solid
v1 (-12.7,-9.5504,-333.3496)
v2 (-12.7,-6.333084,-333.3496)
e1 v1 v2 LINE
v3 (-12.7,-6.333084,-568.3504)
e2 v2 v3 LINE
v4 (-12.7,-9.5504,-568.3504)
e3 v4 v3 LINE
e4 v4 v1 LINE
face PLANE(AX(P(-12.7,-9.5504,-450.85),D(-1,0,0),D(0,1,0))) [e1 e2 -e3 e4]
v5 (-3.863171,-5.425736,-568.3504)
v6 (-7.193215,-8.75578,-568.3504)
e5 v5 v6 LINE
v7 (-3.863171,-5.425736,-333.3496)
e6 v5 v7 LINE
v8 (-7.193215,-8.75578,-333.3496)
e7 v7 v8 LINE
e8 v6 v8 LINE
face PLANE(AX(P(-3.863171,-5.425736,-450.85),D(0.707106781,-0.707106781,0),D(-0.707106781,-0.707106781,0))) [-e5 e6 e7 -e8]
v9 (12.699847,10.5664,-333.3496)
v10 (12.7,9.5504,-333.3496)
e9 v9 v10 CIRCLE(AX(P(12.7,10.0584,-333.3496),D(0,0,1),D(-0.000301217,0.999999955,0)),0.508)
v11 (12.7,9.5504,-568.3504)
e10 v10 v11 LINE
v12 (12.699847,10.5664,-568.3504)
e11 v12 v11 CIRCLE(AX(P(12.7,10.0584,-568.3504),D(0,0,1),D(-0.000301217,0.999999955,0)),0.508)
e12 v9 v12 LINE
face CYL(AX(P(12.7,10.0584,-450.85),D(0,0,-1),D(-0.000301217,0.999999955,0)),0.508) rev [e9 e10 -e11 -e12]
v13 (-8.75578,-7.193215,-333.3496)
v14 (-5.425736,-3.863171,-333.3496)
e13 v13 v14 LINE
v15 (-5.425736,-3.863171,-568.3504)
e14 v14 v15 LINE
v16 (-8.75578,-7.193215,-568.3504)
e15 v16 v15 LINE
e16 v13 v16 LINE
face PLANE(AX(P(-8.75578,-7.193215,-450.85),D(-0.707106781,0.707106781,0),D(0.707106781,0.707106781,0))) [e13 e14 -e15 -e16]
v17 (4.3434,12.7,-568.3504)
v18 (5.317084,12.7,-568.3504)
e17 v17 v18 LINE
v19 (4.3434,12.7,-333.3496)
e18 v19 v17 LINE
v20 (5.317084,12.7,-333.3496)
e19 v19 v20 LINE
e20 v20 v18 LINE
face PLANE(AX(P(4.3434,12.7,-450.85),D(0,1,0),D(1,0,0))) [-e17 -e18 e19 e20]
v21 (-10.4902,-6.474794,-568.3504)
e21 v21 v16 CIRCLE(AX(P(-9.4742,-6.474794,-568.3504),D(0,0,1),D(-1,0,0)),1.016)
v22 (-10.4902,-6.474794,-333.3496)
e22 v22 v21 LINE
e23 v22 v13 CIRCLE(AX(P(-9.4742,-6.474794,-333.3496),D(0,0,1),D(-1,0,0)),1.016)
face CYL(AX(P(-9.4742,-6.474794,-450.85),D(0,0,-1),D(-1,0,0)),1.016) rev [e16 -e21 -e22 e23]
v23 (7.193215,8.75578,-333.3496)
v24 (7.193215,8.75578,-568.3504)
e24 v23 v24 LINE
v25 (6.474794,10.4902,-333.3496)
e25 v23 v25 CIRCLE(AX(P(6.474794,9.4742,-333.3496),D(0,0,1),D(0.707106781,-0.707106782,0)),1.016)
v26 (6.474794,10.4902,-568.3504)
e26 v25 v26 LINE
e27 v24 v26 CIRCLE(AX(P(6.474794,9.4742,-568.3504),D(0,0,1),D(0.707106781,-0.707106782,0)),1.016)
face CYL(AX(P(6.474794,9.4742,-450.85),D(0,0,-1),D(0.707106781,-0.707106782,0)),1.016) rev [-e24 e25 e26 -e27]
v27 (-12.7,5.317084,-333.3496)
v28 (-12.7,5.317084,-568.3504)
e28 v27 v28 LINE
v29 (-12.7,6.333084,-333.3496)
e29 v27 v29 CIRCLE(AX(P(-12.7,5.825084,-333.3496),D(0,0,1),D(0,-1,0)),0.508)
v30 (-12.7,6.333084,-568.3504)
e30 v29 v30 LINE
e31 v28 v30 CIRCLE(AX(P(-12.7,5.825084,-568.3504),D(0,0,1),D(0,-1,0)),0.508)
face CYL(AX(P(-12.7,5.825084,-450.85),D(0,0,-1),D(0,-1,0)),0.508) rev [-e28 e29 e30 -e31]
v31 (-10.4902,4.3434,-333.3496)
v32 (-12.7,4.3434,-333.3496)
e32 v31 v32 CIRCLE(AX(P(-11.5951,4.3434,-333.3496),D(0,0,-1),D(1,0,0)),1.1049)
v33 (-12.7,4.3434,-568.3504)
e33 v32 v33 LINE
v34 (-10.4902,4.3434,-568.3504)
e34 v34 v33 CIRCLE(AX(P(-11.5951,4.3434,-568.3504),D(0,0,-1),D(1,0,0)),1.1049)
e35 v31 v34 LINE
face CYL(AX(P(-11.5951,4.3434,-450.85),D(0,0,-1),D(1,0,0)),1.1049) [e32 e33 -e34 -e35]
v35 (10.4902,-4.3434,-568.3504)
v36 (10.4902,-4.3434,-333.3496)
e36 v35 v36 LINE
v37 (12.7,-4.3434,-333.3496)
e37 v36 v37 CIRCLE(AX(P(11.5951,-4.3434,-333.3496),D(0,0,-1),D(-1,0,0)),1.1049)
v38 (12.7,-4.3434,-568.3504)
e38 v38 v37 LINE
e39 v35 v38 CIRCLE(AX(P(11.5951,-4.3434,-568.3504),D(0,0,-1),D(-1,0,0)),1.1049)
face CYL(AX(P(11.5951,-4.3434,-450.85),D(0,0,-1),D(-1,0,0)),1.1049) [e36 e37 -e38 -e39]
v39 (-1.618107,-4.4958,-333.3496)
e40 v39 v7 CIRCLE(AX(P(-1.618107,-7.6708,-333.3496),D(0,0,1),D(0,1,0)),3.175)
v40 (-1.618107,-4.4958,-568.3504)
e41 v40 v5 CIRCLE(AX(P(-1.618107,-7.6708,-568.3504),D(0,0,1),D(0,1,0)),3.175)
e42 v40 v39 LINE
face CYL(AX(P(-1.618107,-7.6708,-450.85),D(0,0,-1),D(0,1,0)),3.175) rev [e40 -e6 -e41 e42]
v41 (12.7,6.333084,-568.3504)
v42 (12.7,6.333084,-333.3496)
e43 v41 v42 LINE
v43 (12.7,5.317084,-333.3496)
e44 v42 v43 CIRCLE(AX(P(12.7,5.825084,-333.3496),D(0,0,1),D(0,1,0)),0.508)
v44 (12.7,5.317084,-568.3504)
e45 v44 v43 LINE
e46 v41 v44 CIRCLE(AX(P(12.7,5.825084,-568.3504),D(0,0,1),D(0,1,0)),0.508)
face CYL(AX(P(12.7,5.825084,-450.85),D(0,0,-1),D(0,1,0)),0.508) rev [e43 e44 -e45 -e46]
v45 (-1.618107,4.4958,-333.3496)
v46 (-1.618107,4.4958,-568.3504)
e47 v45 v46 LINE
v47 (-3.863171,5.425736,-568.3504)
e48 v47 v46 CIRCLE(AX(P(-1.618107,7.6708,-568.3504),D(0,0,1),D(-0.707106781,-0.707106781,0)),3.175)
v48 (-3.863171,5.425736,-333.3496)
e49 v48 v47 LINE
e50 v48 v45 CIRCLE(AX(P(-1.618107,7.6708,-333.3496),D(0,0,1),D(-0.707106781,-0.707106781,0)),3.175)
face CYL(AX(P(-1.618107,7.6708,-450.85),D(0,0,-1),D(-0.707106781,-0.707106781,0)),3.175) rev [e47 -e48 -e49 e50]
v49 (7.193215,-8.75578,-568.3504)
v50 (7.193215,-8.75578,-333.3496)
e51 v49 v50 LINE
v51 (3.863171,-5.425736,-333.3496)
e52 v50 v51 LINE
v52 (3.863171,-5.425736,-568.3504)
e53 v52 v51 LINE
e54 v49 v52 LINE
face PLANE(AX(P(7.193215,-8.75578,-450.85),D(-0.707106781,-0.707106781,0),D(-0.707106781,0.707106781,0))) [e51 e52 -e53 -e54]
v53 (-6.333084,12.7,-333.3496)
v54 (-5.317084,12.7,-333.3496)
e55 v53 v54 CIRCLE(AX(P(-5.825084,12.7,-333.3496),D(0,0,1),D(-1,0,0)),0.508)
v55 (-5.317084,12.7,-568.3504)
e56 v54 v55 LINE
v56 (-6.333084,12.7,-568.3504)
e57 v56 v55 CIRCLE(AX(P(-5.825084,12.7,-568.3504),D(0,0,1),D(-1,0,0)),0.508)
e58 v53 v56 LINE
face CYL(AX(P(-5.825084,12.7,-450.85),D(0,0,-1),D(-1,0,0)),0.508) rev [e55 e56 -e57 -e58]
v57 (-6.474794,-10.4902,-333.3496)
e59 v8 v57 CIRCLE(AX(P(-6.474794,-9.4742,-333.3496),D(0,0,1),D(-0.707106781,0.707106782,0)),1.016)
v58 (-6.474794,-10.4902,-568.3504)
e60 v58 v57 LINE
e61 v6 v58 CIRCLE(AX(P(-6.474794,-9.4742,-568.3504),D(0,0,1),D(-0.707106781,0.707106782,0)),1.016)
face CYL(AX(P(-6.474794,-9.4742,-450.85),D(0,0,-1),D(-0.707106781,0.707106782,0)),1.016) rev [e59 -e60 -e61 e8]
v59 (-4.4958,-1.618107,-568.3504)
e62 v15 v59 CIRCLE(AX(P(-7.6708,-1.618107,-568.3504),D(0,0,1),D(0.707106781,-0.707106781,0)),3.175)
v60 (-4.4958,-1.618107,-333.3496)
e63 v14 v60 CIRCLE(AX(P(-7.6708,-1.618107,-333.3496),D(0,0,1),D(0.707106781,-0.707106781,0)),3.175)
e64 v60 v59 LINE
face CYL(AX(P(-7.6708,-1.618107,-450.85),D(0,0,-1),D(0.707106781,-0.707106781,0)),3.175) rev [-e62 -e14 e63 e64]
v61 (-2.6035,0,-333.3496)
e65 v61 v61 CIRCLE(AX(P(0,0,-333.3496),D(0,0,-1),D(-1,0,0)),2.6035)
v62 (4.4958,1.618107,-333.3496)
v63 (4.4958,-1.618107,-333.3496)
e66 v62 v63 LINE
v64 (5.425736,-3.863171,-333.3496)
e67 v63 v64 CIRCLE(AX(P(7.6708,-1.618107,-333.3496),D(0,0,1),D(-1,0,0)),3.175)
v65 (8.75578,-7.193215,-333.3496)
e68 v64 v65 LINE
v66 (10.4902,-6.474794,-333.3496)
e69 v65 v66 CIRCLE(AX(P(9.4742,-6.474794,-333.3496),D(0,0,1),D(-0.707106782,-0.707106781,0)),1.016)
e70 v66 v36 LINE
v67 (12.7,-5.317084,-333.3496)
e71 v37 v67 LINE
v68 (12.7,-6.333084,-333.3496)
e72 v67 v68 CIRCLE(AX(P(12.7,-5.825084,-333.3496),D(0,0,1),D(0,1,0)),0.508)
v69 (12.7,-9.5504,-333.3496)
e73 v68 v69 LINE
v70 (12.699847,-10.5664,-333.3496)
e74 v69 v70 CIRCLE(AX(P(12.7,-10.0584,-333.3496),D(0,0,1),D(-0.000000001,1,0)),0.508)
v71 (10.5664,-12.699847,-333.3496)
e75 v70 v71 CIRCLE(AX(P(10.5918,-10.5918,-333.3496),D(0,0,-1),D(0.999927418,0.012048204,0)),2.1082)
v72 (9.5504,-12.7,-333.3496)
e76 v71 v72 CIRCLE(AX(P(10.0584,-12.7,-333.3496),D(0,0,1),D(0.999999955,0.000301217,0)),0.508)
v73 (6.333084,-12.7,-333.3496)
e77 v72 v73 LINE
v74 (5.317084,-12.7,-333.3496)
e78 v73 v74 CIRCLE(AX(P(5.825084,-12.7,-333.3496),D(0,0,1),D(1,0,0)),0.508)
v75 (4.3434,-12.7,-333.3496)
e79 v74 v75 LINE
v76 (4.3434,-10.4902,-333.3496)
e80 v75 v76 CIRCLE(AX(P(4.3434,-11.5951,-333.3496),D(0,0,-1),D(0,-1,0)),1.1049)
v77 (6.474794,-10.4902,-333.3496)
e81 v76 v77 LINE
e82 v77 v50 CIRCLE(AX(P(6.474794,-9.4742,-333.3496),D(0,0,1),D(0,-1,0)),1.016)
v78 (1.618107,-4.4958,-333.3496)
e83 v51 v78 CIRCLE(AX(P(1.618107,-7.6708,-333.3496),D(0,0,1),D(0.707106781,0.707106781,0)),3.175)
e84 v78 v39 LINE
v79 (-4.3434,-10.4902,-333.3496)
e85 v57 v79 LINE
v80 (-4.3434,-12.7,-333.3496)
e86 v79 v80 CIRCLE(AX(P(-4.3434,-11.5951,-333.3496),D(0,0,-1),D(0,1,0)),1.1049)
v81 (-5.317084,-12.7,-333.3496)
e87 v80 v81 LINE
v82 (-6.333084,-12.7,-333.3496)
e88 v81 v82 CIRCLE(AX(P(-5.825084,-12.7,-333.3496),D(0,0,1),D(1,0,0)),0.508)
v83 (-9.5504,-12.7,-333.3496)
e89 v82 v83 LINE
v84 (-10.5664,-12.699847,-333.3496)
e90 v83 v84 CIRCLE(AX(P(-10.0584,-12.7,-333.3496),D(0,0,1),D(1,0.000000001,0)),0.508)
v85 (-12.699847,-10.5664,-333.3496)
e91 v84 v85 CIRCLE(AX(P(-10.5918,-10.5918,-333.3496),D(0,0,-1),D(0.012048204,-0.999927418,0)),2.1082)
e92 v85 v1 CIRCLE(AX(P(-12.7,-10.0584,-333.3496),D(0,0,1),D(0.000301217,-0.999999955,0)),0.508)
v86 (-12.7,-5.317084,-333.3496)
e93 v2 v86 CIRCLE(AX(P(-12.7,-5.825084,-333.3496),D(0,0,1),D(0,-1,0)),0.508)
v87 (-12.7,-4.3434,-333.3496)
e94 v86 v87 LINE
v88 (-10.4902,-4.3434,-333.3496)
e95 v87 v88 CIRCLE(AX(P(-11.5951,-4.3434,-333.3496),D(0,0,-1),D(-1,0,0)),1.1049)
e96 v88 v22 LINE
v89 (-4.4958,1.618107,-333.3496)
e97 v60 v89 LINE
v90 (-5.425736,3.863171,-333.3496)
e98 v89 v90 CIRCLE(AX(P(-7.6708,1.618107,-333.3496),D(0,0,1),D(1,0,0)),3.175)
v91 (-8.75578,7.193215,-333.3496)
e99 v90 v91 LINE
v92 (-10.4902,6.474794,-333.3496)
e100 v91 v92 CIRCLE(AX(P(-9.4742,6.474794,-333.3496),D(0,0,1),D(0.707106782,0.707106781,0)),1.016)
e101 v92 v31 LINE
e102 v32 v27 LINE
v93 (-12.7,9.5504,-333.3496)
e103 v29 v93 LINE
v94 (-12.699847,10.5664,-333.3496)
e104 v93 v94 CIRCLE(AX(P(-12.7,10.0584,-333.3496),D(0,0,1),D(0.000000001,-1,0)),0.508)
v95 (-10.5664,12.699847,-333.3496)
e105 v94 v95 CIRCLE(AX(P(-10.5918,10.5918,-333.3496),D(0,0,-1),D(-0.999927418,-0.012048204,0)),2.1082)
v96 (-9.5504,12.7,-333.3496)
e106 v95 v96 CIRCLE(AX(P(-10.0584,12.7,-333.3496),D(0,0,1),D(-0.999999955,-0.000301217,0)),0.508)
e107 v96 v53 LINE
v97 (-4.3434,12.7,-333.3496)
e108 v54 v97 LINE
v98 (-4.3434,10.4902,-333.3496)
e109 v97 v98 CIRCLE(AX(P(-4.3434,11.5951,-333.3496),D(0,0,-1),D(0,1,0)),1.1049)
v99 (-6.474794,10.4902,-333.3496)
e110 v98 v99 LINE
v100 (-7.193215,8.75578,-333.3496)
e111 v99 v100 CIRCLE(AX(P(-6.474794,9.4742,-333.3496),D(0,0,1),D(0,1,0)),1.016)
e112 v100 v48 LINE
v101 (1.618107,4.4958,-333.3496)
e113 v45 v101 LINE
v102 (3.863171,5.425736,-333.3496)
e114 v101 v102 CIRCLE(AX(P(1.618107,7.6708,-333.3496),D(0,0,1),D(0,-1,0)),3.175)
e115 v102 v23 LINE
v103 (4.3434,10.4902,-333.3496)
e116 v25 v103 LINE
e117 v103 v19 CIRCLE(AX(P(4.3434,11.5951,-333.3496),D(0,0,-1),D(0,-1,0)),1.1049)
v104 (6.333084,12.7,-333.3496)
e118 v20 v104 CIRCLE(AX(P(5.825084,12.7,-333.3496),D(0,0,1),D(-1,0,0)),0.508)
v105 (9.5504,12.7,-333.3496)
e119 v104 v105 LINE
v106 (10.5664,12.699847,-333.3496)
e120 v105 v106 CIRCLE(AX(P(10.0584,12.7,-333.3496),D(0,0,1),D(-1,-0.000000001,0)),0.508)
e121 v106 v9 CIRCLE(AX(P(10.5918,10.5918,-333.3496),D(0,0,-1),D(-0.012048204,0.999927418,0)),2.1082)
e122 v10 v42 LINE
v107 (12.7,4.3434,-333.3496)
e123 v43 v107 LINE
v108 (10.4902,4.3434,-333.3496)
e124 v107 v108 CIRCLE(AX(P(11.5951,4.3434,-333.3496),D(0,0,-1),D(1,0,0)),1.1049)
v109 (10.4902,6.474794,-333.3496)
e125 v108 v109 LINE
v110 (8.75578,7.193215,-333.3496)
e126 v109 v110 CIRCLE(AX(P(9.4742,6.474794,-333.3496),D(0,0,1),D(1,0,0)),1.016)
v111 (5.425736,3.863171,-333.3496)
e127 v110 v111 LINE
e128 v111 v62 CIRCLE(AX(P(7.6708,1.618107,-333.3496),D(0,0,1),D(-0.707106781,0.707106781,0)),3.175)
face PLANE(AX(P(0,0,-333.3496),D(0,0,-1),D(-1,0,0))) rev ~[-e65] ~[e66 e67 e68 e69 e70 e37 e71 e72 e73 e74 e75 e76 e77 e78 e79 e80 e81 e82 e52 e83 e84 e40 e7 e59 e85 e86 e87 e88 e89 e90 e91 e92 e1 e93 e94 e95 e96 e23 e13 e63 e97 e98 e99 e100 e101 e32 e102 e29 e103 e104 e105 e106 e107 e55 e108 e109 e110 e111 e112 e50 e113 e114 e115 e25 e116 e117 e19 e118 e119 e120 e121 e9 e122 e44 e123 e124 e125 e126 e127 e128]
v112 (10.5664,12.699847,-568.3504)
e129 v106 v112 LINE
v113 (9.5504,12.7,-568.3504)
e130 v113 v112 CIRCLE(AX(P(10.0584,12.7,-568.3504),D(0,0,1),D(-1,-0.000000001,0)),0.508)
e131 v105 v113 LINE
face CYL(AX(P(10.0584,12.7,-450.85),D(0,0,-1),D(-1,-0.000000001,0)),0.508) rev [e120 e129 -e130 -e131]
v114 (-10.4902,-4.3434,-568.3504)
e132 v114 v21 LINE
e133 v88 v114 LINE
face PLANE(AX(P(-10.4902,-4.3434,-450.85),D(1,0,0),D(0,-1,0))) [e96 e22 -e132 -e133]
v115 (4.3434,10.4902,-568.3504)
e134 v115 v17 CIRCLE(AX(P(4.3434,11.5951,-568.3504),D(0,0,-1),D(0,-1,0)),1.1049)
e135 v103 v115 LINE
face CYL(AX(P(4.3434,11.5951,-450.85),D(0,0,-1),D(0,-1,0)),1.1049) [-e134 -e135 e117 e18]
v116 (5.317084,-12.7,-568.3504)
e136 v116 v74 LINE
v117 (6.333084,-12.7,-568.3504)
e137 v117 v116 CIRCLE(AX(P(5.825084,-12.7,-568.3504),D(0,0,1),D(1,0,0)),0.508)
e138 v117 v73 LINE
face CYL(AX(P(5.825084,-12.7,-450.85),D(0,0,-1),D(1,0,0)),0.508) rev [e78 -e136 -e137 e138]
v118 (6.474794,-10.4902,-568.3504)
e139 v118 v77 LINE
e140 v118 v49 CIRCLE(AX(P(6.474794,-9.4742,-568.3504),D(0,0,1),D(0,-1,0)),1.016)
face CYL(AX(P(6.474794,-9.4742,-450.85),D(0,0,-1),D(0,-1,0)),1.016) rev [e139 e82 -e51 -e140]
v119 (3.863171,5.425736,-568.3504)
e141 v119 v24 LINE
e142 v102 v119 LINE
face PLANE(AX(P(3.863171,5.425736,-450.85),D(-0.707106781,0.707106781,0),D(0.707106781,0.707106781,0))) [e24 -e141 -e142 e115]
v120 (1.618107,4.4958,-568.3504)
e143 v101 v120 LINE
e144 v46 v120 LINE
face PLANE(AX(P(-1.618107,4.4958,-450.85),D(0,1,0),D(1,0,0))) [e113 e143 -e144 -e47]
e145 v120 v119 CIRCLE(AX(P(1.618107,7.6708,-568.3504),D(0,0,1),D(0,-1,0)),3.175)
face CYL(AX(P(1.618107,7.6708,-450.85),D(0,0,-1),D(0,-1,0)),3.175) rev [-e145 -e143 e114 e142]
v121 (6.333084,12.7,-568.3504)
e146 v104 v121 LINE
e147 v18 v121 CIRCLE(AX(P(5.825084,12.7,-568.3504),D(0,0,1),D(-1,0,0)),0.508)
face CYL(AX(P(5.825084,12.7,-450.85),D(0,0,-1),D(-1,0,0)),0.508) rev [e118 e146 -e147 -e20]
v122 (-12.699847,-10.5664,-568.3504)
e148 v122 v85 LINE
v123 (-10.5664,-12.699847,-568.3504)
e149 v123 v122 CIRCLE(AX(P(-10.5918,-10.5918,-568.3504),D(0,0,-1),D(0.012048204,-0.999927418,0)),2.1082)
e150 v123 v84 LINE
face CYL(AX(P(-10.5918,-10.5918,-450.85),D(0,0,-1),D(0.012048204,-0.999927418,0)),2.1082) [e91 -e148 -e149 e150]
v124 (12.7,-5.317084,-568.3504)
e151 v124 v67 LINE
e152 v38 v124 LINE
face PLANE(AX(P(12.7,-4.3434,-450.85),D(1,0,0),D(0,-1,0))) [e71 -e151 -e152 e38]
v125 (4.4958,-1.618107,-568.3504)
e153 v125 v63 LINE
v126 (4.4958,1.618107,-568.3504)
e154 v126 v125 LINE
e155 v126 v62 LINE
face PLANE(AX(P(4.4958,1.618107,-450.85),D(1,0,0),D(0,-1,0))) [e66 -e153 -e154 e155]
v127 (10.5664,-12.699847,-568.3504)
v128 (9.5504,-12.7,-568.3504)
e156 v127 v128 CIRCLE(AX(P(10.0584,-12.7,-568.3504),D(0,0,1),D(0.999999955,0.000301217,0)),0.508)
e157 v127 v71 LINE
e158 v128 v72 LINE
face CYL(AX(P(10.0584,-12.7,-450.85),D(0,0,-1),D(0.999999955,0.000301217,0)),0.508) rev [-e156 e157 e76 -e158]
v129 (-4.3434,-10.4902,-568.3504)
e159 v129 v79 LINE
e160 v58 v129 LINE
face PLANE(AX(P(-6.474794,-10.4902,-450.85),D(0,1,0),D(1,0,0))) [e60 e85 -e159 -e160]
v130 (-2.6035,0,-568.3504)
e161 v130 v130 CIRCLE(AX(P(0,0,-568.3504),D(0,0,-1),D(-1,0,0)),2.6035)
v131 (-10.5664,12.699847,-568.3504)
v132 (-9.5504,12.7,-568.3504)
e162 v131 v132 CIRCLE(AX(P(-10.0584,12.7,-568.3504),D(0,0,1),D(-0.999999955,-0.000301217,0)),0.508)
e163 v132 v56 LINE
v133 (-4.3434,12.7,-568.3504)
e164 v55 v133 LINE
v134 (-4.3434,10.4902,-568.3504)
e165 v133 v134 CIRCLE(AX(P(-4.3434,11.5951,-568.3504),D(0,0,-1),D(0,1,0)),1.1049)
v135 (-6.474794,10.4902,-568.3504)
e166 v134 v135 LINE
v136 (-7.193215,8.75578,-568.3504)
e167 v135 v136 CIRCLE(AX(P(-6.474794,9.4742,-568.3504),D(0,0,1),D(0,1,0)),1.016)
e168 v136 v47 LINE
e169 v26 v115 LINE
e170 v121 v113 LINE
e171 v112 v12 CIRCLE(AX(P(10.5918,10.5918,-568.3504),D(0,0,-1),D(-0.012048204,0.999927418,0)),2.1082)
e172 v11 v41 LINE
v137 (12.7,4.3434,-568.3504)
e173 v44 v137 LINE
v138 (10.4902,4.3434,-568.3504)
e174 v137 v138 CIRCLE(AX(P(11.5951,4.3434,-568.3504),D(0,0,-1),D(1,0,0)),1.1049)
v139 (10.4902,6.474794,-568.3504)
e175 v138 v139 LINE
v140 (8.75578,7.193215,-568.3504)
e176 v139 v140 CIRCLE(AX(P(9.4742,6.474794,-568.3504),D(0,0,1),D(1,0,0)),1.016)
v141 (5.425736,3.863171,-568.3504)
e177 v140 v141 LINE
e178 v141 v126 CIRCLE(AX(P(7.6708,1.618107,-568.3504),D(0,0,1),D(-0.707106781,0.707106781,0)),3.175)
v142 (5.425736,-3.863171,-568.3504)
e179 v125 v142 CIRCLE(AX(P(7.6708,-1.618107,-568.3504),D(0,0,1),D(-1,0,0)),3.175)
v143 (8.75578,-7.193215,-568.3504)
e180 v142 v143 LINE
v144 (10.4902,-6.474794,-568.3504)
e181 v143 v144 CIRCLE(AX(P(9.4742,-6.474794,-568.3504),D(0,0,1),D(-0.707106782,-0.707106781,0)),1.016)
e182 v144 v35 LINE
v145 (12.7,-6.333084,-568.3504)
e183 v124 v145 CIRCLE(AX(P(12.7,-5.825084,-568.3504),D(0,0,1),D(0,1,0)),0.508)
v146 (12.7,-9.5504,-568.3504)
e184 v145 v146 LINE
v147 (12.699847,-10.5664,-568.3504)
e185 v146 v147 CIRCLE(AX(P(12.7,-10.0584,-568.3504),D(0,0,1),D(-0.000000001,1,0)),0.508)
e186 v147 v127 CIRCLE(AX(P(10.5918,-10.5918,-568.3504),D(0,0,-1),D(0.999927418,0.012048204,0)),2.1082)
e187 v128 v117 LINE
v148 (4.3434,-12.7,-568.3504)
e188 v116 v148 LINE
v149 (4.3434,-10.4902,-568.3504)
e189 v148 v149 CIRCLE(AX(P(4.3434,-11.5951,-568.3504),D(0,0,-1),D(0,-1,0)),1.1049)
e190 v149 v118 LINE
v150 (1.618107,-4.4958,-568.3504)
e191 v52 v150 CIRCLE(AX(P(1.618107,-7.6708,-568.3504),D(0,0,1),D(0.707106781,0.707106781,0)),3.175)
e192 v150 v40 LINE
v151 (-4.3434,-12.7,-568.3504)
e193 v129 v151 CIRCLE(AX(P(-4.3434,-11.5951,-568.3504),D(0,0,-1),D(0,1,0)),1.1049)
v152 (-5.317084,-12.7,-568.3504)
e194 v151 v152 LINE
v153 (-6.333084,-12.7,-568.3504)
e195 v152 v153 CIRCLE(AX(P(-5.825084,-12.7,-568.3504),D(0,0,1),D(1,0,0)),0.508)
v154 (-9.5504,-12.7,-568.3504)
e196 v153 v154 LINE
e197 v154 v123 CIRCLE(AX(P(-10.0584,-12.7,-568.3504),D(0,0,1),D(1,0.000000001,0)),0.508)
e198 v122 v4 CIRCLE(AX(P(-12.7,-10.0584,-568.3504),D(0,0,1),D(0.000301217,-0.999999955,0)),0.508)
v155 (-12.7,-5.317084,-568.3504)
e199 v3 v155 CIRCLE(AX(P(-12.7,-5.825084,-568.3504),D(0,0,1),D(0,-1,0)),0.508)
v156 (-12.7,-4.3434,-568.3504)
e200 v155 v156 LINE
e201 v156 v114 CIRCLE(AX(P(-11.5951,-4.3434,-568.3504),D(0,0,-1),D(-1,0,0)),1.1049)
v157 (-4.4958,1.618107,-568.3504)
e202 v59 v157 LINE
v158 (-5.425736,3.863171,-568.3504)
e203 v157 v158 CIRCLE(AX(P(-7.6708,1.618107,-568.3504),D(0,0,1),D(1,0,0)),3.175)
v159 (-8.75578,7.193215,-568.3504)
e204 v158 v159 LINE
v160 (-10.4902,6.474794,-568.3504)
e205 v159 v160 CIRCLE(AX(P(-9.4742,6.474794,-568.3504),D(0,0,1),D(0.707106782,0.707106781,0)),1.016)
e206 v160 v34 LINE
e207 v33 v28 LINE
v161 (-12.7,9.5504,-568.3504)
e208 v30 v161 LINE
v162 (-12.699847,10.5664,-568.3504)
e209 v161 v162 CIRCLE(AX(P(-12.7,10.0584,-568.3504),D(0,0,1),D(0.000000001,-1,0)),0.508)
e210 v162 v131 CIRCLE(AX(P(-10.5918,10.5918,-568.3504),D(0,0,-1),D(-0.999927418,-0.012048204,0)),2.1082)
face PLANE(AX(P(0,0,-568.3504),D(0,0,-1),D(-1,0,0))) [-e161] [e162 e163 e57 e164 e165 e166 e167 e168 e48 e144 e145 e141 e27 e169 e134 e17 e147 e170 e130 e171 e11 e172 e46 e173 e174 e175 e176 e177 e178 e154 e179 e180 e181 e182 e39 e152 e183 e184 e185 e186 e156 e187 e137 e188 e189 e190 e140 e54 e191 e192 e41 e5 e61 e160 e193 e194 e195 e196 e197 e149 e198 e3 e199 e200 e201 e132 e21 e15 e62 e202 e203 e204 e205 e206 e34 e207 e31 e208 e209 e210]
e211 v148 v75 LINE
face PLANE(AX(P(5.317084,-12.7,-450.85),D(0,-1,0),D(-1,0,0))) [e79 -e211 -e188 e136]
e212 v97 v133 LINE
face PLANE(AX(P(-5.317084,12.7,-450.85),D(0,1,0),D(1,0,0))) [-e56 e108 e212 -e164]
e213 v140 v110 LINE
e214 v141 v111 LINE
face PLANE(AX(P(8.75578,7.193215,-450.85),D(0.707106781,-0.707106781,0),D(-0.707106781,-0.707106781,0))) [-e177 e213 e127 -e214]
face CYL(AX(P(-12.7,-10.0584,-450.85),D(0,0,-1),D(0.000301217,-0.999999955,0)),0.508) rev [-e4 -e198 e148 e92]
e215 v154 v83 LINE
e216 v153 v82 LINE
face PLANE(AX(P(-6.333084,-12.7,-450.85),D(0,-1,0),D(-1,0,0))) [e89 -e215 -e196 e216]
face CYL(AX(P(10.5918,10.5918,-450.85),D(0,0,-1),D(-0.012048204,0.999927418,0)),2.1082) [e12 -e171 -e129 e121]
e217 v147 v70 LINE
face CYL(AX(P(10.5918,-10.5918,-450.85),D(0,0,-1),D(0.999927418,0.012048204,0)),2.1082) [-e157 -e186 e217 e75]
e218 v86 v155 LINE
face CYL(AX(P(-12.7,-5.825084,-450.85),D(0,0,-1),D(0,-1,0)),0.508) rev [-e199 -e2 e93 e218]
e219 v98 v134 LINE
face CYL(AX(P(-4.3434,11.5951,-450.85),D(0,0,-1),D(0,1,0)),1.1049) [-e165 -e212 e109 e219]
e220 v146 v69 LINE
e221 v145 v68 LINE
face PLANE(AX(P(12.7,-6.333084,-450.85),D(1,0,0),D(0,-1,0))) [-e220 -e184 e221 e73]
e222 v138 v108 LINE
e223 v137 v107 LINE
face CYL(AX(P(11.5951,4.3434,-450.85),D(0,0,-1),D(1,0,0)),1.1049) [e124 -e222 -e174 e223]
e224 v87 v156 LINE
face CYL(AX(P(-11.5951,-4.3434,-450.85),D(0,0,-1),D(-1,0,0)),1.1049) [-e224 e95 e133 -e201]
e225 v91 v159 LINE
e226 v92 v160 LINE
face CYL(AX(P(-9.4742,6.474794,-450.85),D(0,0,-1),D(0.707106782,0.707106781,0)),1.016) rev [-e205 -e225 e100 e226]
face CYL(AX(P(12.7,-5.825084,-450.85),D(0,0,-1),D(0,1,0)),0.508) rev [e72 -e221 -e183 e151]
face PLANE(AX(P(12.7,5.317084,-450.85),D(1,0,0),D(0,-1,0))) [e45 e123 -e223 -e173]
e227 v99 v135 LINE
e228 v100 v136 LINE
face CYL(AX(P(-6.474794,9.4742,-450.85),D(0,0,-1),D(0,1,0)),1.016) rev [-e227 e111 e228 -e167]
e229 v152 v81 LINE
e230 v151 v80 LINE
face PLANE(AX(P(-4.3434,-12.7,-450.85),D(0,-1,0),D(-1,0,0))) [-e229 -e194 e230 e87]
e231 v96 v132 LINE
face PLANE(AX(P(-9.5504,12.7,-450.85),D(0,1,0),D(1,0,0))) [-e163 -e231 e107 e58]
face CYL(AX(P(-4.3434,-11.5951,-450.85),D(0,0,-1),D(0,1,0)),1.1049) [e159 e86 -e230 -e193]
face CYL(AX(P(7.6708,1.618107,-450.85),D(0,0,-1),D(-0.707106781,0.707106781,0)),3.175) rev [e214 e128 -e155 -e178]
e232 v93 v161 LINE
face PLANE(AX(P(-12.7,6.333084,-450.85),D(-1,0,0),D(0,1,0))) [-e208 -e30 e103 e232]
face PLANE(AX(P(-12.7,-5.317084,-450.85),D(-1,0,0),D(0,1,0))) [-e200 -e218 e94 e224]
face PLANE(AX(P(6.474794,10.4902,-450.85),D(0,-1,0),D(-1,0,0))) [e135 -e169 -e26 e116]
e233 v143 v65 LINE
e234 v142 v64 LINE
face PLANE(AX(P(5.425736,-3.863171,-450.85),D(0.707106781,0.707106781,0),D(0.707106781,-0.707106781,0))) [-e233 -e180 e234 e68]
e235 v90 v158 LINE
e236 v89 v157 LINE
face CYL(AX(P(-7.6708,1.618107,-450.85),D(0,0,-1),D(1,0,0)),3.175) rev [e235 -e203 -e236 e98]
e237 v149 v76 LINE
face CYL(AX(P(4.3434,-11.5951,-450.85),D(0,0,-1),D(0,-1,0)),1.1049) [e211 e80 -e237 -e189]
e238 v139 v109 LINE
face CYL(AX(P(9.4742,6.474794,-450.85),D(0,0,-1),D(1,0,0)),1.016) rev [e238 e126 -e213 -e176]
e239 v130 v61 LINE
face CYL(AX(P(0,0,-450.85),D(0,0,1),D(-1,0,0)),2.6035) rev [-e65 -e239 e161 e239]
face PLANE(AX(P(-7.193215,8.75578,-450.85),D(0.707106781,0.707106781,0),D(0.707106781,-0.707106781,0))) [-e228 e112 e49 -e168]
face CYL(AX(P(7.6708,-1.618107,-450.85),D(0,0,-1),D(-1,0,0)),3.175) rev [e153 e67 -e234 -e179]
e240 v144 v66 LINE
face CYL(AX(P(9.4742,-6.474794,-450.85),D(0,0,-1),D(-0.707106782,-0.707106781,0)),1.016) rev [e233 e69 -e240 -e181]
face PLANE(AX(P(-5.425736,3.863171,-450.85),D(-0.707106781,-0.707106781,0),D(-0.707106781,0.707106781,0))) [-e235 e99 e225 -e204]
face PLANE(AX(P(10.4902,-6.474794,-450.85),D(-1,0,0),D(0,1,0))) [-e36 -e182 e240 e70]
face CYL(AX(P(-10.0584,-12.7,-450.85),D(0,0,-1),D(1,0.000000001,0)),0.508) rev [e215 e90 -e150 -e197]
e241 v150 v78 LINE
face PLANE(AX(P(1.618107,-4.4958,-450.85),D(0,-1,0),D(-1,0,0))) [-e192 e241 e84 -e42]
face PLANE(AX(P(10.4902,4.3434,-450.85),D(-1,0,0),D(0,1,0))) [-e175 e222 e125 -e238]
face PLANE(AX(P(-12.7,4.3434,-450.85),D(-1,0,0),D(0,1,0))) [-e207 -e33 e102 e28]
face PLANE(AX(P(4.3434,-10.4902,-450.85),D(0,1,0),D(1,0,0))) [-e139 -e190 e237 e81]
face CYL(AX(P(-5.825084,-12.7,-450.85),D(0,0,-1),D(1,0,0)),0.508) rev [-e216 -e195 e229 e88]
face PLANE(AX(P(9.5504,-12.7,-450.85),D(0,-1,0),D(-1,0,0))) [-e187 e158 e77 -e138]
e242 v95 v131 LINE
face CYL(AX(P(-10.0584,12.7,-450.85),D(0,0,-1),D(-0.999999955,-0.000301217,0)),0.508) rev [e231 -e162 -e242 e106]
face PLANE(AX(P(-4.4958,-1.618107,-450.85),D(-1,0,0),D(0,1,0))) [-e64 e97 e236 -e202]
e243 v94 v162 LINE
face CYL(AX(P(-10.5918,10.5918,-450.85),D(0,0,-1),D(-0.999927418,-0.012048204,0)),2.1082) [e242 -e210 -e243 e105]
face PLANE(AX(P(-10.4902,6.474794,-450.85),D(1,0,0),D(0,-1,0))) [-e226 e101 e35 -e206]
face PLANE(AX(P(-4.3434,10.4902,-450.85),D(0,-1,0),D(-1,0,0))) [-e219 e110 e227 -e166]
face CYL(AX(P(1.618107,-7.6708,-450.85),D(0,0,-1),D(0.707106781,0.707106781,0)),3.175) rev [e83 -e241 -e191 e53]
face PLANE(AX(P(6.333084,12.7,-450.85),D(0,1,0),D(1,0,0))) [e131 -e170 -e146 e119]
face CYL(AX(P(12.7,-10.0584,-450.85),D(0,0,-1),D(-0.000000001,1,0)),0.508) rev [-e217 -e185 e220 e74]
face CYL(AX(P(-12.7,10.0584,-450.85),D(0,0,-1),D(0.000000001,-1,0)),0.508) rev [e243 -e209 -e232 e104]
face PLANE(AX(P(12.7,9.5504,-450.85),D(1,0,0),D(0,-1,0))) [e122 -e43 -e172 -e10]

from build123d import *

# Parameters (mm, degrees)
SKETCH1_R           = 2.6035
BOSS_EXTRUDE1_DEPTH = 117.5004


with BuildPart() as part:
    # Sketch1 → Boss-Extrude1 (new body, symmetric)
    with BuildSketch(Plane(origin=(0, 0, -450.85), x_dir=(-1, 0, 0), z_dir=(0, 0, -1))):
        with BuildLine():
            Line((12.7, -9.5504), (12.7, -6.3330836))
            ThreePointArc((12.7, -6.3330836), (12.192, -5.8250836), (12.7, -5.3170836))
            Line((12.7, -5.3170836), (12.7, -4.3434))
            ThreePointArc((12.7, -4.3434), (11.5951, -3.2385), (10.4902, -4.3434))
            Line((10.4902, -4.3434), (10.4902, -6.474794456))
            ThreePointArc((10.4902, -6.474794456), (9.863006367, -7.413456061), (8.75577951, -7.193214945))
            Line((8.75577951, -7.193214945), (5.42573597, -3.863171405))
            ThreePointArc((5.42573597, -3.863171405), (4.737482484, -2.833127272), (4.4958, -1.618107374))
            Line((4.4958, -1.618107374), (4.4958, 1.618107374))
            ThreePointArc((4.4958, 1.618107374), (4.737482484, 2.833127272), (5.42573597, 3.863171405))
            Line((5.42573597, 3.863171405), (8.75577951, 7.193214945))
            ThreePointArc((8.75577951, 7.193214945), (9.863006367, 7.413456061), (10.4902, 6.474794456))
            Line((10.4902, 6.474794456), (10.4902, 4.343399971))
            ThreePointArc((10.4902, 4.343399971), (11.5951, 3.238499971), (12.7, 4.343399971))
            Line((12.7, 4.343399971), (12.7, 5.3170836))
            ThreePointArc((12.7, 5.3170836), (12.192, 5.8250836), (12.7, 6.3330836))
            Line((12.7, 6.3330836), (12.7, 9.5504))
            ThreePointArc((12.7, 9.5504), (12.192000006, 10.058323491), (12.699846982, 10.566399977))
            ThreePointArc((12.699846982, 10.566399977), (12.082522516, 12.082522516), (10.566399977, 12.699846982))
            ThreePointArc((10.566399977, 12.699846982), (10.058323491, 12.192000006), (9.5504, 12.7))
            Line((9.5504, 12.7), (6.3330836, 12.7))
            ThreePointArc((6.3330836, 12.7), (5.8250836, 12.192), (5.3170836, 12.7))
            Line((5.3170836, 12.7), (4.3434, 12.7))
            ThreePointArc((4.3434, 12.7), (3.2385, 11.5951), (4.3434, 10.4902))
            Line((4.3434, 10.4902), (6.474794456, 10.4902))
            ThreePointArc((6.474794456, 10.4902), (7.413456061, 9.863006367), (7.193214945, 8.75577951))
            Line((7.193214945, 8.75577951), (3.863171405, 5.42573597))
            ThreePointArc((3.863171405, 5.42573597), (2.833127272, 4.737482484), (1.618107374, 4.4958))
            Line((1.618107374, 4.4958), (-1.618107374, 4.4958))
            ThreePointArc((-1.618107374, 4.4958), (-2.833127272, 4.737482484), (-3.863171405, 5.42573597))
            Line((-3.863171405, 5.42573597), (-7.193214945, 8.75577951))
            ThreePointArc((-7.193214945, 8.75577951), (-7.413456061, 9.863006367), (-6.474794456, 10.4902))
            Line((-6.474794456, 10.4902), (-4.343399971, 10.4902))
            ThreePointArc((-4.343399971, 10.4902), (-3.238499971, 11.5951), (-4.343399971, 12.7))
            Line((-4.343399971, 12.7), (-5.3170836, 12.7))
            ThreePointArc((-5.3170836, 12.7), (-5.8250836, 12.192), (-6.3330836, 12.7))
            Line((-6.3330836, 12.7), (-9.5504, 12.7))
            ThreePointArc((-9.5504, 12.7), (-10.058323491, 12.192000006), (-10.566399977, 12.699846982))
            ThreePointArc((-10.566399977, 12.699846982), (-12.082522516, 12.082522516), (-12.699846982, 10.566399977))
            ThreePointArc((-12.699846982, 10.566399977), (-12.192000006, 10.058323491), (-12.7, 9.5504))
            Line((-12.7, 9.5504), (-12.7, 6.3330836))
            ThreePointArc((-12.7, 6.3330836), (-12.192, 5.8250836), (-12.7, 5.3170836))
            Line((-12.7, 5.3170836), (-12.7, 4.3434))
            ThreePointArc((-12.7, 4.3434), (-11.5951, 3.2385), (-10.4902, 4.3434))
            Line((-10.4902, 4.3434), (-10.4902, 6.474794456))
            ThreePointArc((-10.4902, 6.474794456), (-9.863006367, 7.413456061), (-8.75577951, 7.193214945))
            Line((-8.75577951, 7.193214945), (-5.42573597, 3.863171405))
            ThreePointArc((-5.42573597, 3.863171405), (-4.737482484, 2.833127272), (-4.4958, 1.618107374))
            Line((-4.4958, 1.618107374), (-4.4958, -1.618107374))
            ThreePointArc((-4.4958, -1.618107374), (-4.737482484, -2.833127272), (-5.42573597, -3.863171405))
            Line((-5.42573597, -3.863171405), (-8.75577951, -7.193214945))
            ThreePointArc((-8.75577951, -7.193214945), (-9.863006367, -7.413456061), (-10.4902, -6.474794456))
            Line((-10.4902, -6.474794456), (-10.4902, -4.343399971))
            ThreePointArc((-10.4902, -4.343399971), (-11.5951, -3.238499971), (-12.7, -4.343399971))
            Line((-12.7, -4.343399971), (-12.7, -5.3170836))
            ThreePointArc((-12.7, -5.3170836), (-12.192, -5.8250836), (-12.7, -6.3330836))
            Line((-12.7, -6.3330836), (-12.7, -9.5504))
            ThreePointArc((-12.7, -9.5504), (-12.192000006, -10.058323491), (-12.699846982, -10.566399977))
            ThreePointArc((-12.699846982, -10.566399977), (-12.082522516, -12.082522516), (-10.566399977, -12.699846982))
            ThreePointArc((-10.566399977, -12.699846982), (-10.058323491, -12.192000006), (-9.5504, -12.7))
            Line((-9.5504, -12.7), (-6.3330836, -12.7))
            ThreePointArc((-6.3330836, -12.7), (-5.8250836, -12.192), (-5.3170836, -12.7))
            Line((-5.3170836, -12.7), (-4.3434, -12.7))
            ThreePointArc((-4.3434, -12.7), (-3.2385, -11.5951), (-4.3434, -10.4902))
            Line((-4.3434, -10.4902), (-6.474794456, -10.4902))
            ThreePointArc((-6.474794456, -10.4902), (-7.413456061, -9.863006367), (-7.193214945, -8.75577951))
            Line((-7.193214945, -8.75577951), (-3.863171405, -5.42573597))
            ThreePointArc((-3.863171405, -5.42573597), (-2.833127272, -4.737482484), (-1.618107374, -4.4958))
            Line((-1.618107374, -4.4958), (1.618107374, -4.4958))
            ThreePointArc((1.618107374, -4.4958), (2.833127272, -4.737482484), (3.863171405, -5.42573597))
            Line((3.863171405, -5.42573597), (7.193214945, -8.75577951))
            ThreePointArc((7.193214945, -8.75577951), (7.413456061, -9.863006367), (6.474794456, -10.4902))
            Line((6.474794456, -10.4902), (4.343399971, -10.4902))
            ThreePointArc((4.343399971, -10.4902), (3.238499971, -11.5951), (4.343399971, -12.7))
            Line((4.343399971, -12.7), (5.3170836, -12.7))
            ThreePointArc((5.3170836, -12.7), (5.8250836, -12.192), (6.3330836, -12.7))
            Line((6.3330836, -12.7), (9.5504, -12.7))
            ThreePointArc((9.5504, -12.7), (10.058323491, -12.192000006), (10.566399977, -12.699846982))
            ThreePointArc((10.566399977, -12.699846982), (12.082522516, -12.082522516), (12.699846982, -10.566399977))
            ThreePointArc((12.699846982, -10.566399977), (12.192000006, -10.058323491), (12.7, -9.5504))
        make_face()
        Circle(SKETCH1_R, mode=Mode.SUBTRACT)
    extrude(amount=BOSS_EXTRUDE1_DEPTH, both=True)


solid = part.part
